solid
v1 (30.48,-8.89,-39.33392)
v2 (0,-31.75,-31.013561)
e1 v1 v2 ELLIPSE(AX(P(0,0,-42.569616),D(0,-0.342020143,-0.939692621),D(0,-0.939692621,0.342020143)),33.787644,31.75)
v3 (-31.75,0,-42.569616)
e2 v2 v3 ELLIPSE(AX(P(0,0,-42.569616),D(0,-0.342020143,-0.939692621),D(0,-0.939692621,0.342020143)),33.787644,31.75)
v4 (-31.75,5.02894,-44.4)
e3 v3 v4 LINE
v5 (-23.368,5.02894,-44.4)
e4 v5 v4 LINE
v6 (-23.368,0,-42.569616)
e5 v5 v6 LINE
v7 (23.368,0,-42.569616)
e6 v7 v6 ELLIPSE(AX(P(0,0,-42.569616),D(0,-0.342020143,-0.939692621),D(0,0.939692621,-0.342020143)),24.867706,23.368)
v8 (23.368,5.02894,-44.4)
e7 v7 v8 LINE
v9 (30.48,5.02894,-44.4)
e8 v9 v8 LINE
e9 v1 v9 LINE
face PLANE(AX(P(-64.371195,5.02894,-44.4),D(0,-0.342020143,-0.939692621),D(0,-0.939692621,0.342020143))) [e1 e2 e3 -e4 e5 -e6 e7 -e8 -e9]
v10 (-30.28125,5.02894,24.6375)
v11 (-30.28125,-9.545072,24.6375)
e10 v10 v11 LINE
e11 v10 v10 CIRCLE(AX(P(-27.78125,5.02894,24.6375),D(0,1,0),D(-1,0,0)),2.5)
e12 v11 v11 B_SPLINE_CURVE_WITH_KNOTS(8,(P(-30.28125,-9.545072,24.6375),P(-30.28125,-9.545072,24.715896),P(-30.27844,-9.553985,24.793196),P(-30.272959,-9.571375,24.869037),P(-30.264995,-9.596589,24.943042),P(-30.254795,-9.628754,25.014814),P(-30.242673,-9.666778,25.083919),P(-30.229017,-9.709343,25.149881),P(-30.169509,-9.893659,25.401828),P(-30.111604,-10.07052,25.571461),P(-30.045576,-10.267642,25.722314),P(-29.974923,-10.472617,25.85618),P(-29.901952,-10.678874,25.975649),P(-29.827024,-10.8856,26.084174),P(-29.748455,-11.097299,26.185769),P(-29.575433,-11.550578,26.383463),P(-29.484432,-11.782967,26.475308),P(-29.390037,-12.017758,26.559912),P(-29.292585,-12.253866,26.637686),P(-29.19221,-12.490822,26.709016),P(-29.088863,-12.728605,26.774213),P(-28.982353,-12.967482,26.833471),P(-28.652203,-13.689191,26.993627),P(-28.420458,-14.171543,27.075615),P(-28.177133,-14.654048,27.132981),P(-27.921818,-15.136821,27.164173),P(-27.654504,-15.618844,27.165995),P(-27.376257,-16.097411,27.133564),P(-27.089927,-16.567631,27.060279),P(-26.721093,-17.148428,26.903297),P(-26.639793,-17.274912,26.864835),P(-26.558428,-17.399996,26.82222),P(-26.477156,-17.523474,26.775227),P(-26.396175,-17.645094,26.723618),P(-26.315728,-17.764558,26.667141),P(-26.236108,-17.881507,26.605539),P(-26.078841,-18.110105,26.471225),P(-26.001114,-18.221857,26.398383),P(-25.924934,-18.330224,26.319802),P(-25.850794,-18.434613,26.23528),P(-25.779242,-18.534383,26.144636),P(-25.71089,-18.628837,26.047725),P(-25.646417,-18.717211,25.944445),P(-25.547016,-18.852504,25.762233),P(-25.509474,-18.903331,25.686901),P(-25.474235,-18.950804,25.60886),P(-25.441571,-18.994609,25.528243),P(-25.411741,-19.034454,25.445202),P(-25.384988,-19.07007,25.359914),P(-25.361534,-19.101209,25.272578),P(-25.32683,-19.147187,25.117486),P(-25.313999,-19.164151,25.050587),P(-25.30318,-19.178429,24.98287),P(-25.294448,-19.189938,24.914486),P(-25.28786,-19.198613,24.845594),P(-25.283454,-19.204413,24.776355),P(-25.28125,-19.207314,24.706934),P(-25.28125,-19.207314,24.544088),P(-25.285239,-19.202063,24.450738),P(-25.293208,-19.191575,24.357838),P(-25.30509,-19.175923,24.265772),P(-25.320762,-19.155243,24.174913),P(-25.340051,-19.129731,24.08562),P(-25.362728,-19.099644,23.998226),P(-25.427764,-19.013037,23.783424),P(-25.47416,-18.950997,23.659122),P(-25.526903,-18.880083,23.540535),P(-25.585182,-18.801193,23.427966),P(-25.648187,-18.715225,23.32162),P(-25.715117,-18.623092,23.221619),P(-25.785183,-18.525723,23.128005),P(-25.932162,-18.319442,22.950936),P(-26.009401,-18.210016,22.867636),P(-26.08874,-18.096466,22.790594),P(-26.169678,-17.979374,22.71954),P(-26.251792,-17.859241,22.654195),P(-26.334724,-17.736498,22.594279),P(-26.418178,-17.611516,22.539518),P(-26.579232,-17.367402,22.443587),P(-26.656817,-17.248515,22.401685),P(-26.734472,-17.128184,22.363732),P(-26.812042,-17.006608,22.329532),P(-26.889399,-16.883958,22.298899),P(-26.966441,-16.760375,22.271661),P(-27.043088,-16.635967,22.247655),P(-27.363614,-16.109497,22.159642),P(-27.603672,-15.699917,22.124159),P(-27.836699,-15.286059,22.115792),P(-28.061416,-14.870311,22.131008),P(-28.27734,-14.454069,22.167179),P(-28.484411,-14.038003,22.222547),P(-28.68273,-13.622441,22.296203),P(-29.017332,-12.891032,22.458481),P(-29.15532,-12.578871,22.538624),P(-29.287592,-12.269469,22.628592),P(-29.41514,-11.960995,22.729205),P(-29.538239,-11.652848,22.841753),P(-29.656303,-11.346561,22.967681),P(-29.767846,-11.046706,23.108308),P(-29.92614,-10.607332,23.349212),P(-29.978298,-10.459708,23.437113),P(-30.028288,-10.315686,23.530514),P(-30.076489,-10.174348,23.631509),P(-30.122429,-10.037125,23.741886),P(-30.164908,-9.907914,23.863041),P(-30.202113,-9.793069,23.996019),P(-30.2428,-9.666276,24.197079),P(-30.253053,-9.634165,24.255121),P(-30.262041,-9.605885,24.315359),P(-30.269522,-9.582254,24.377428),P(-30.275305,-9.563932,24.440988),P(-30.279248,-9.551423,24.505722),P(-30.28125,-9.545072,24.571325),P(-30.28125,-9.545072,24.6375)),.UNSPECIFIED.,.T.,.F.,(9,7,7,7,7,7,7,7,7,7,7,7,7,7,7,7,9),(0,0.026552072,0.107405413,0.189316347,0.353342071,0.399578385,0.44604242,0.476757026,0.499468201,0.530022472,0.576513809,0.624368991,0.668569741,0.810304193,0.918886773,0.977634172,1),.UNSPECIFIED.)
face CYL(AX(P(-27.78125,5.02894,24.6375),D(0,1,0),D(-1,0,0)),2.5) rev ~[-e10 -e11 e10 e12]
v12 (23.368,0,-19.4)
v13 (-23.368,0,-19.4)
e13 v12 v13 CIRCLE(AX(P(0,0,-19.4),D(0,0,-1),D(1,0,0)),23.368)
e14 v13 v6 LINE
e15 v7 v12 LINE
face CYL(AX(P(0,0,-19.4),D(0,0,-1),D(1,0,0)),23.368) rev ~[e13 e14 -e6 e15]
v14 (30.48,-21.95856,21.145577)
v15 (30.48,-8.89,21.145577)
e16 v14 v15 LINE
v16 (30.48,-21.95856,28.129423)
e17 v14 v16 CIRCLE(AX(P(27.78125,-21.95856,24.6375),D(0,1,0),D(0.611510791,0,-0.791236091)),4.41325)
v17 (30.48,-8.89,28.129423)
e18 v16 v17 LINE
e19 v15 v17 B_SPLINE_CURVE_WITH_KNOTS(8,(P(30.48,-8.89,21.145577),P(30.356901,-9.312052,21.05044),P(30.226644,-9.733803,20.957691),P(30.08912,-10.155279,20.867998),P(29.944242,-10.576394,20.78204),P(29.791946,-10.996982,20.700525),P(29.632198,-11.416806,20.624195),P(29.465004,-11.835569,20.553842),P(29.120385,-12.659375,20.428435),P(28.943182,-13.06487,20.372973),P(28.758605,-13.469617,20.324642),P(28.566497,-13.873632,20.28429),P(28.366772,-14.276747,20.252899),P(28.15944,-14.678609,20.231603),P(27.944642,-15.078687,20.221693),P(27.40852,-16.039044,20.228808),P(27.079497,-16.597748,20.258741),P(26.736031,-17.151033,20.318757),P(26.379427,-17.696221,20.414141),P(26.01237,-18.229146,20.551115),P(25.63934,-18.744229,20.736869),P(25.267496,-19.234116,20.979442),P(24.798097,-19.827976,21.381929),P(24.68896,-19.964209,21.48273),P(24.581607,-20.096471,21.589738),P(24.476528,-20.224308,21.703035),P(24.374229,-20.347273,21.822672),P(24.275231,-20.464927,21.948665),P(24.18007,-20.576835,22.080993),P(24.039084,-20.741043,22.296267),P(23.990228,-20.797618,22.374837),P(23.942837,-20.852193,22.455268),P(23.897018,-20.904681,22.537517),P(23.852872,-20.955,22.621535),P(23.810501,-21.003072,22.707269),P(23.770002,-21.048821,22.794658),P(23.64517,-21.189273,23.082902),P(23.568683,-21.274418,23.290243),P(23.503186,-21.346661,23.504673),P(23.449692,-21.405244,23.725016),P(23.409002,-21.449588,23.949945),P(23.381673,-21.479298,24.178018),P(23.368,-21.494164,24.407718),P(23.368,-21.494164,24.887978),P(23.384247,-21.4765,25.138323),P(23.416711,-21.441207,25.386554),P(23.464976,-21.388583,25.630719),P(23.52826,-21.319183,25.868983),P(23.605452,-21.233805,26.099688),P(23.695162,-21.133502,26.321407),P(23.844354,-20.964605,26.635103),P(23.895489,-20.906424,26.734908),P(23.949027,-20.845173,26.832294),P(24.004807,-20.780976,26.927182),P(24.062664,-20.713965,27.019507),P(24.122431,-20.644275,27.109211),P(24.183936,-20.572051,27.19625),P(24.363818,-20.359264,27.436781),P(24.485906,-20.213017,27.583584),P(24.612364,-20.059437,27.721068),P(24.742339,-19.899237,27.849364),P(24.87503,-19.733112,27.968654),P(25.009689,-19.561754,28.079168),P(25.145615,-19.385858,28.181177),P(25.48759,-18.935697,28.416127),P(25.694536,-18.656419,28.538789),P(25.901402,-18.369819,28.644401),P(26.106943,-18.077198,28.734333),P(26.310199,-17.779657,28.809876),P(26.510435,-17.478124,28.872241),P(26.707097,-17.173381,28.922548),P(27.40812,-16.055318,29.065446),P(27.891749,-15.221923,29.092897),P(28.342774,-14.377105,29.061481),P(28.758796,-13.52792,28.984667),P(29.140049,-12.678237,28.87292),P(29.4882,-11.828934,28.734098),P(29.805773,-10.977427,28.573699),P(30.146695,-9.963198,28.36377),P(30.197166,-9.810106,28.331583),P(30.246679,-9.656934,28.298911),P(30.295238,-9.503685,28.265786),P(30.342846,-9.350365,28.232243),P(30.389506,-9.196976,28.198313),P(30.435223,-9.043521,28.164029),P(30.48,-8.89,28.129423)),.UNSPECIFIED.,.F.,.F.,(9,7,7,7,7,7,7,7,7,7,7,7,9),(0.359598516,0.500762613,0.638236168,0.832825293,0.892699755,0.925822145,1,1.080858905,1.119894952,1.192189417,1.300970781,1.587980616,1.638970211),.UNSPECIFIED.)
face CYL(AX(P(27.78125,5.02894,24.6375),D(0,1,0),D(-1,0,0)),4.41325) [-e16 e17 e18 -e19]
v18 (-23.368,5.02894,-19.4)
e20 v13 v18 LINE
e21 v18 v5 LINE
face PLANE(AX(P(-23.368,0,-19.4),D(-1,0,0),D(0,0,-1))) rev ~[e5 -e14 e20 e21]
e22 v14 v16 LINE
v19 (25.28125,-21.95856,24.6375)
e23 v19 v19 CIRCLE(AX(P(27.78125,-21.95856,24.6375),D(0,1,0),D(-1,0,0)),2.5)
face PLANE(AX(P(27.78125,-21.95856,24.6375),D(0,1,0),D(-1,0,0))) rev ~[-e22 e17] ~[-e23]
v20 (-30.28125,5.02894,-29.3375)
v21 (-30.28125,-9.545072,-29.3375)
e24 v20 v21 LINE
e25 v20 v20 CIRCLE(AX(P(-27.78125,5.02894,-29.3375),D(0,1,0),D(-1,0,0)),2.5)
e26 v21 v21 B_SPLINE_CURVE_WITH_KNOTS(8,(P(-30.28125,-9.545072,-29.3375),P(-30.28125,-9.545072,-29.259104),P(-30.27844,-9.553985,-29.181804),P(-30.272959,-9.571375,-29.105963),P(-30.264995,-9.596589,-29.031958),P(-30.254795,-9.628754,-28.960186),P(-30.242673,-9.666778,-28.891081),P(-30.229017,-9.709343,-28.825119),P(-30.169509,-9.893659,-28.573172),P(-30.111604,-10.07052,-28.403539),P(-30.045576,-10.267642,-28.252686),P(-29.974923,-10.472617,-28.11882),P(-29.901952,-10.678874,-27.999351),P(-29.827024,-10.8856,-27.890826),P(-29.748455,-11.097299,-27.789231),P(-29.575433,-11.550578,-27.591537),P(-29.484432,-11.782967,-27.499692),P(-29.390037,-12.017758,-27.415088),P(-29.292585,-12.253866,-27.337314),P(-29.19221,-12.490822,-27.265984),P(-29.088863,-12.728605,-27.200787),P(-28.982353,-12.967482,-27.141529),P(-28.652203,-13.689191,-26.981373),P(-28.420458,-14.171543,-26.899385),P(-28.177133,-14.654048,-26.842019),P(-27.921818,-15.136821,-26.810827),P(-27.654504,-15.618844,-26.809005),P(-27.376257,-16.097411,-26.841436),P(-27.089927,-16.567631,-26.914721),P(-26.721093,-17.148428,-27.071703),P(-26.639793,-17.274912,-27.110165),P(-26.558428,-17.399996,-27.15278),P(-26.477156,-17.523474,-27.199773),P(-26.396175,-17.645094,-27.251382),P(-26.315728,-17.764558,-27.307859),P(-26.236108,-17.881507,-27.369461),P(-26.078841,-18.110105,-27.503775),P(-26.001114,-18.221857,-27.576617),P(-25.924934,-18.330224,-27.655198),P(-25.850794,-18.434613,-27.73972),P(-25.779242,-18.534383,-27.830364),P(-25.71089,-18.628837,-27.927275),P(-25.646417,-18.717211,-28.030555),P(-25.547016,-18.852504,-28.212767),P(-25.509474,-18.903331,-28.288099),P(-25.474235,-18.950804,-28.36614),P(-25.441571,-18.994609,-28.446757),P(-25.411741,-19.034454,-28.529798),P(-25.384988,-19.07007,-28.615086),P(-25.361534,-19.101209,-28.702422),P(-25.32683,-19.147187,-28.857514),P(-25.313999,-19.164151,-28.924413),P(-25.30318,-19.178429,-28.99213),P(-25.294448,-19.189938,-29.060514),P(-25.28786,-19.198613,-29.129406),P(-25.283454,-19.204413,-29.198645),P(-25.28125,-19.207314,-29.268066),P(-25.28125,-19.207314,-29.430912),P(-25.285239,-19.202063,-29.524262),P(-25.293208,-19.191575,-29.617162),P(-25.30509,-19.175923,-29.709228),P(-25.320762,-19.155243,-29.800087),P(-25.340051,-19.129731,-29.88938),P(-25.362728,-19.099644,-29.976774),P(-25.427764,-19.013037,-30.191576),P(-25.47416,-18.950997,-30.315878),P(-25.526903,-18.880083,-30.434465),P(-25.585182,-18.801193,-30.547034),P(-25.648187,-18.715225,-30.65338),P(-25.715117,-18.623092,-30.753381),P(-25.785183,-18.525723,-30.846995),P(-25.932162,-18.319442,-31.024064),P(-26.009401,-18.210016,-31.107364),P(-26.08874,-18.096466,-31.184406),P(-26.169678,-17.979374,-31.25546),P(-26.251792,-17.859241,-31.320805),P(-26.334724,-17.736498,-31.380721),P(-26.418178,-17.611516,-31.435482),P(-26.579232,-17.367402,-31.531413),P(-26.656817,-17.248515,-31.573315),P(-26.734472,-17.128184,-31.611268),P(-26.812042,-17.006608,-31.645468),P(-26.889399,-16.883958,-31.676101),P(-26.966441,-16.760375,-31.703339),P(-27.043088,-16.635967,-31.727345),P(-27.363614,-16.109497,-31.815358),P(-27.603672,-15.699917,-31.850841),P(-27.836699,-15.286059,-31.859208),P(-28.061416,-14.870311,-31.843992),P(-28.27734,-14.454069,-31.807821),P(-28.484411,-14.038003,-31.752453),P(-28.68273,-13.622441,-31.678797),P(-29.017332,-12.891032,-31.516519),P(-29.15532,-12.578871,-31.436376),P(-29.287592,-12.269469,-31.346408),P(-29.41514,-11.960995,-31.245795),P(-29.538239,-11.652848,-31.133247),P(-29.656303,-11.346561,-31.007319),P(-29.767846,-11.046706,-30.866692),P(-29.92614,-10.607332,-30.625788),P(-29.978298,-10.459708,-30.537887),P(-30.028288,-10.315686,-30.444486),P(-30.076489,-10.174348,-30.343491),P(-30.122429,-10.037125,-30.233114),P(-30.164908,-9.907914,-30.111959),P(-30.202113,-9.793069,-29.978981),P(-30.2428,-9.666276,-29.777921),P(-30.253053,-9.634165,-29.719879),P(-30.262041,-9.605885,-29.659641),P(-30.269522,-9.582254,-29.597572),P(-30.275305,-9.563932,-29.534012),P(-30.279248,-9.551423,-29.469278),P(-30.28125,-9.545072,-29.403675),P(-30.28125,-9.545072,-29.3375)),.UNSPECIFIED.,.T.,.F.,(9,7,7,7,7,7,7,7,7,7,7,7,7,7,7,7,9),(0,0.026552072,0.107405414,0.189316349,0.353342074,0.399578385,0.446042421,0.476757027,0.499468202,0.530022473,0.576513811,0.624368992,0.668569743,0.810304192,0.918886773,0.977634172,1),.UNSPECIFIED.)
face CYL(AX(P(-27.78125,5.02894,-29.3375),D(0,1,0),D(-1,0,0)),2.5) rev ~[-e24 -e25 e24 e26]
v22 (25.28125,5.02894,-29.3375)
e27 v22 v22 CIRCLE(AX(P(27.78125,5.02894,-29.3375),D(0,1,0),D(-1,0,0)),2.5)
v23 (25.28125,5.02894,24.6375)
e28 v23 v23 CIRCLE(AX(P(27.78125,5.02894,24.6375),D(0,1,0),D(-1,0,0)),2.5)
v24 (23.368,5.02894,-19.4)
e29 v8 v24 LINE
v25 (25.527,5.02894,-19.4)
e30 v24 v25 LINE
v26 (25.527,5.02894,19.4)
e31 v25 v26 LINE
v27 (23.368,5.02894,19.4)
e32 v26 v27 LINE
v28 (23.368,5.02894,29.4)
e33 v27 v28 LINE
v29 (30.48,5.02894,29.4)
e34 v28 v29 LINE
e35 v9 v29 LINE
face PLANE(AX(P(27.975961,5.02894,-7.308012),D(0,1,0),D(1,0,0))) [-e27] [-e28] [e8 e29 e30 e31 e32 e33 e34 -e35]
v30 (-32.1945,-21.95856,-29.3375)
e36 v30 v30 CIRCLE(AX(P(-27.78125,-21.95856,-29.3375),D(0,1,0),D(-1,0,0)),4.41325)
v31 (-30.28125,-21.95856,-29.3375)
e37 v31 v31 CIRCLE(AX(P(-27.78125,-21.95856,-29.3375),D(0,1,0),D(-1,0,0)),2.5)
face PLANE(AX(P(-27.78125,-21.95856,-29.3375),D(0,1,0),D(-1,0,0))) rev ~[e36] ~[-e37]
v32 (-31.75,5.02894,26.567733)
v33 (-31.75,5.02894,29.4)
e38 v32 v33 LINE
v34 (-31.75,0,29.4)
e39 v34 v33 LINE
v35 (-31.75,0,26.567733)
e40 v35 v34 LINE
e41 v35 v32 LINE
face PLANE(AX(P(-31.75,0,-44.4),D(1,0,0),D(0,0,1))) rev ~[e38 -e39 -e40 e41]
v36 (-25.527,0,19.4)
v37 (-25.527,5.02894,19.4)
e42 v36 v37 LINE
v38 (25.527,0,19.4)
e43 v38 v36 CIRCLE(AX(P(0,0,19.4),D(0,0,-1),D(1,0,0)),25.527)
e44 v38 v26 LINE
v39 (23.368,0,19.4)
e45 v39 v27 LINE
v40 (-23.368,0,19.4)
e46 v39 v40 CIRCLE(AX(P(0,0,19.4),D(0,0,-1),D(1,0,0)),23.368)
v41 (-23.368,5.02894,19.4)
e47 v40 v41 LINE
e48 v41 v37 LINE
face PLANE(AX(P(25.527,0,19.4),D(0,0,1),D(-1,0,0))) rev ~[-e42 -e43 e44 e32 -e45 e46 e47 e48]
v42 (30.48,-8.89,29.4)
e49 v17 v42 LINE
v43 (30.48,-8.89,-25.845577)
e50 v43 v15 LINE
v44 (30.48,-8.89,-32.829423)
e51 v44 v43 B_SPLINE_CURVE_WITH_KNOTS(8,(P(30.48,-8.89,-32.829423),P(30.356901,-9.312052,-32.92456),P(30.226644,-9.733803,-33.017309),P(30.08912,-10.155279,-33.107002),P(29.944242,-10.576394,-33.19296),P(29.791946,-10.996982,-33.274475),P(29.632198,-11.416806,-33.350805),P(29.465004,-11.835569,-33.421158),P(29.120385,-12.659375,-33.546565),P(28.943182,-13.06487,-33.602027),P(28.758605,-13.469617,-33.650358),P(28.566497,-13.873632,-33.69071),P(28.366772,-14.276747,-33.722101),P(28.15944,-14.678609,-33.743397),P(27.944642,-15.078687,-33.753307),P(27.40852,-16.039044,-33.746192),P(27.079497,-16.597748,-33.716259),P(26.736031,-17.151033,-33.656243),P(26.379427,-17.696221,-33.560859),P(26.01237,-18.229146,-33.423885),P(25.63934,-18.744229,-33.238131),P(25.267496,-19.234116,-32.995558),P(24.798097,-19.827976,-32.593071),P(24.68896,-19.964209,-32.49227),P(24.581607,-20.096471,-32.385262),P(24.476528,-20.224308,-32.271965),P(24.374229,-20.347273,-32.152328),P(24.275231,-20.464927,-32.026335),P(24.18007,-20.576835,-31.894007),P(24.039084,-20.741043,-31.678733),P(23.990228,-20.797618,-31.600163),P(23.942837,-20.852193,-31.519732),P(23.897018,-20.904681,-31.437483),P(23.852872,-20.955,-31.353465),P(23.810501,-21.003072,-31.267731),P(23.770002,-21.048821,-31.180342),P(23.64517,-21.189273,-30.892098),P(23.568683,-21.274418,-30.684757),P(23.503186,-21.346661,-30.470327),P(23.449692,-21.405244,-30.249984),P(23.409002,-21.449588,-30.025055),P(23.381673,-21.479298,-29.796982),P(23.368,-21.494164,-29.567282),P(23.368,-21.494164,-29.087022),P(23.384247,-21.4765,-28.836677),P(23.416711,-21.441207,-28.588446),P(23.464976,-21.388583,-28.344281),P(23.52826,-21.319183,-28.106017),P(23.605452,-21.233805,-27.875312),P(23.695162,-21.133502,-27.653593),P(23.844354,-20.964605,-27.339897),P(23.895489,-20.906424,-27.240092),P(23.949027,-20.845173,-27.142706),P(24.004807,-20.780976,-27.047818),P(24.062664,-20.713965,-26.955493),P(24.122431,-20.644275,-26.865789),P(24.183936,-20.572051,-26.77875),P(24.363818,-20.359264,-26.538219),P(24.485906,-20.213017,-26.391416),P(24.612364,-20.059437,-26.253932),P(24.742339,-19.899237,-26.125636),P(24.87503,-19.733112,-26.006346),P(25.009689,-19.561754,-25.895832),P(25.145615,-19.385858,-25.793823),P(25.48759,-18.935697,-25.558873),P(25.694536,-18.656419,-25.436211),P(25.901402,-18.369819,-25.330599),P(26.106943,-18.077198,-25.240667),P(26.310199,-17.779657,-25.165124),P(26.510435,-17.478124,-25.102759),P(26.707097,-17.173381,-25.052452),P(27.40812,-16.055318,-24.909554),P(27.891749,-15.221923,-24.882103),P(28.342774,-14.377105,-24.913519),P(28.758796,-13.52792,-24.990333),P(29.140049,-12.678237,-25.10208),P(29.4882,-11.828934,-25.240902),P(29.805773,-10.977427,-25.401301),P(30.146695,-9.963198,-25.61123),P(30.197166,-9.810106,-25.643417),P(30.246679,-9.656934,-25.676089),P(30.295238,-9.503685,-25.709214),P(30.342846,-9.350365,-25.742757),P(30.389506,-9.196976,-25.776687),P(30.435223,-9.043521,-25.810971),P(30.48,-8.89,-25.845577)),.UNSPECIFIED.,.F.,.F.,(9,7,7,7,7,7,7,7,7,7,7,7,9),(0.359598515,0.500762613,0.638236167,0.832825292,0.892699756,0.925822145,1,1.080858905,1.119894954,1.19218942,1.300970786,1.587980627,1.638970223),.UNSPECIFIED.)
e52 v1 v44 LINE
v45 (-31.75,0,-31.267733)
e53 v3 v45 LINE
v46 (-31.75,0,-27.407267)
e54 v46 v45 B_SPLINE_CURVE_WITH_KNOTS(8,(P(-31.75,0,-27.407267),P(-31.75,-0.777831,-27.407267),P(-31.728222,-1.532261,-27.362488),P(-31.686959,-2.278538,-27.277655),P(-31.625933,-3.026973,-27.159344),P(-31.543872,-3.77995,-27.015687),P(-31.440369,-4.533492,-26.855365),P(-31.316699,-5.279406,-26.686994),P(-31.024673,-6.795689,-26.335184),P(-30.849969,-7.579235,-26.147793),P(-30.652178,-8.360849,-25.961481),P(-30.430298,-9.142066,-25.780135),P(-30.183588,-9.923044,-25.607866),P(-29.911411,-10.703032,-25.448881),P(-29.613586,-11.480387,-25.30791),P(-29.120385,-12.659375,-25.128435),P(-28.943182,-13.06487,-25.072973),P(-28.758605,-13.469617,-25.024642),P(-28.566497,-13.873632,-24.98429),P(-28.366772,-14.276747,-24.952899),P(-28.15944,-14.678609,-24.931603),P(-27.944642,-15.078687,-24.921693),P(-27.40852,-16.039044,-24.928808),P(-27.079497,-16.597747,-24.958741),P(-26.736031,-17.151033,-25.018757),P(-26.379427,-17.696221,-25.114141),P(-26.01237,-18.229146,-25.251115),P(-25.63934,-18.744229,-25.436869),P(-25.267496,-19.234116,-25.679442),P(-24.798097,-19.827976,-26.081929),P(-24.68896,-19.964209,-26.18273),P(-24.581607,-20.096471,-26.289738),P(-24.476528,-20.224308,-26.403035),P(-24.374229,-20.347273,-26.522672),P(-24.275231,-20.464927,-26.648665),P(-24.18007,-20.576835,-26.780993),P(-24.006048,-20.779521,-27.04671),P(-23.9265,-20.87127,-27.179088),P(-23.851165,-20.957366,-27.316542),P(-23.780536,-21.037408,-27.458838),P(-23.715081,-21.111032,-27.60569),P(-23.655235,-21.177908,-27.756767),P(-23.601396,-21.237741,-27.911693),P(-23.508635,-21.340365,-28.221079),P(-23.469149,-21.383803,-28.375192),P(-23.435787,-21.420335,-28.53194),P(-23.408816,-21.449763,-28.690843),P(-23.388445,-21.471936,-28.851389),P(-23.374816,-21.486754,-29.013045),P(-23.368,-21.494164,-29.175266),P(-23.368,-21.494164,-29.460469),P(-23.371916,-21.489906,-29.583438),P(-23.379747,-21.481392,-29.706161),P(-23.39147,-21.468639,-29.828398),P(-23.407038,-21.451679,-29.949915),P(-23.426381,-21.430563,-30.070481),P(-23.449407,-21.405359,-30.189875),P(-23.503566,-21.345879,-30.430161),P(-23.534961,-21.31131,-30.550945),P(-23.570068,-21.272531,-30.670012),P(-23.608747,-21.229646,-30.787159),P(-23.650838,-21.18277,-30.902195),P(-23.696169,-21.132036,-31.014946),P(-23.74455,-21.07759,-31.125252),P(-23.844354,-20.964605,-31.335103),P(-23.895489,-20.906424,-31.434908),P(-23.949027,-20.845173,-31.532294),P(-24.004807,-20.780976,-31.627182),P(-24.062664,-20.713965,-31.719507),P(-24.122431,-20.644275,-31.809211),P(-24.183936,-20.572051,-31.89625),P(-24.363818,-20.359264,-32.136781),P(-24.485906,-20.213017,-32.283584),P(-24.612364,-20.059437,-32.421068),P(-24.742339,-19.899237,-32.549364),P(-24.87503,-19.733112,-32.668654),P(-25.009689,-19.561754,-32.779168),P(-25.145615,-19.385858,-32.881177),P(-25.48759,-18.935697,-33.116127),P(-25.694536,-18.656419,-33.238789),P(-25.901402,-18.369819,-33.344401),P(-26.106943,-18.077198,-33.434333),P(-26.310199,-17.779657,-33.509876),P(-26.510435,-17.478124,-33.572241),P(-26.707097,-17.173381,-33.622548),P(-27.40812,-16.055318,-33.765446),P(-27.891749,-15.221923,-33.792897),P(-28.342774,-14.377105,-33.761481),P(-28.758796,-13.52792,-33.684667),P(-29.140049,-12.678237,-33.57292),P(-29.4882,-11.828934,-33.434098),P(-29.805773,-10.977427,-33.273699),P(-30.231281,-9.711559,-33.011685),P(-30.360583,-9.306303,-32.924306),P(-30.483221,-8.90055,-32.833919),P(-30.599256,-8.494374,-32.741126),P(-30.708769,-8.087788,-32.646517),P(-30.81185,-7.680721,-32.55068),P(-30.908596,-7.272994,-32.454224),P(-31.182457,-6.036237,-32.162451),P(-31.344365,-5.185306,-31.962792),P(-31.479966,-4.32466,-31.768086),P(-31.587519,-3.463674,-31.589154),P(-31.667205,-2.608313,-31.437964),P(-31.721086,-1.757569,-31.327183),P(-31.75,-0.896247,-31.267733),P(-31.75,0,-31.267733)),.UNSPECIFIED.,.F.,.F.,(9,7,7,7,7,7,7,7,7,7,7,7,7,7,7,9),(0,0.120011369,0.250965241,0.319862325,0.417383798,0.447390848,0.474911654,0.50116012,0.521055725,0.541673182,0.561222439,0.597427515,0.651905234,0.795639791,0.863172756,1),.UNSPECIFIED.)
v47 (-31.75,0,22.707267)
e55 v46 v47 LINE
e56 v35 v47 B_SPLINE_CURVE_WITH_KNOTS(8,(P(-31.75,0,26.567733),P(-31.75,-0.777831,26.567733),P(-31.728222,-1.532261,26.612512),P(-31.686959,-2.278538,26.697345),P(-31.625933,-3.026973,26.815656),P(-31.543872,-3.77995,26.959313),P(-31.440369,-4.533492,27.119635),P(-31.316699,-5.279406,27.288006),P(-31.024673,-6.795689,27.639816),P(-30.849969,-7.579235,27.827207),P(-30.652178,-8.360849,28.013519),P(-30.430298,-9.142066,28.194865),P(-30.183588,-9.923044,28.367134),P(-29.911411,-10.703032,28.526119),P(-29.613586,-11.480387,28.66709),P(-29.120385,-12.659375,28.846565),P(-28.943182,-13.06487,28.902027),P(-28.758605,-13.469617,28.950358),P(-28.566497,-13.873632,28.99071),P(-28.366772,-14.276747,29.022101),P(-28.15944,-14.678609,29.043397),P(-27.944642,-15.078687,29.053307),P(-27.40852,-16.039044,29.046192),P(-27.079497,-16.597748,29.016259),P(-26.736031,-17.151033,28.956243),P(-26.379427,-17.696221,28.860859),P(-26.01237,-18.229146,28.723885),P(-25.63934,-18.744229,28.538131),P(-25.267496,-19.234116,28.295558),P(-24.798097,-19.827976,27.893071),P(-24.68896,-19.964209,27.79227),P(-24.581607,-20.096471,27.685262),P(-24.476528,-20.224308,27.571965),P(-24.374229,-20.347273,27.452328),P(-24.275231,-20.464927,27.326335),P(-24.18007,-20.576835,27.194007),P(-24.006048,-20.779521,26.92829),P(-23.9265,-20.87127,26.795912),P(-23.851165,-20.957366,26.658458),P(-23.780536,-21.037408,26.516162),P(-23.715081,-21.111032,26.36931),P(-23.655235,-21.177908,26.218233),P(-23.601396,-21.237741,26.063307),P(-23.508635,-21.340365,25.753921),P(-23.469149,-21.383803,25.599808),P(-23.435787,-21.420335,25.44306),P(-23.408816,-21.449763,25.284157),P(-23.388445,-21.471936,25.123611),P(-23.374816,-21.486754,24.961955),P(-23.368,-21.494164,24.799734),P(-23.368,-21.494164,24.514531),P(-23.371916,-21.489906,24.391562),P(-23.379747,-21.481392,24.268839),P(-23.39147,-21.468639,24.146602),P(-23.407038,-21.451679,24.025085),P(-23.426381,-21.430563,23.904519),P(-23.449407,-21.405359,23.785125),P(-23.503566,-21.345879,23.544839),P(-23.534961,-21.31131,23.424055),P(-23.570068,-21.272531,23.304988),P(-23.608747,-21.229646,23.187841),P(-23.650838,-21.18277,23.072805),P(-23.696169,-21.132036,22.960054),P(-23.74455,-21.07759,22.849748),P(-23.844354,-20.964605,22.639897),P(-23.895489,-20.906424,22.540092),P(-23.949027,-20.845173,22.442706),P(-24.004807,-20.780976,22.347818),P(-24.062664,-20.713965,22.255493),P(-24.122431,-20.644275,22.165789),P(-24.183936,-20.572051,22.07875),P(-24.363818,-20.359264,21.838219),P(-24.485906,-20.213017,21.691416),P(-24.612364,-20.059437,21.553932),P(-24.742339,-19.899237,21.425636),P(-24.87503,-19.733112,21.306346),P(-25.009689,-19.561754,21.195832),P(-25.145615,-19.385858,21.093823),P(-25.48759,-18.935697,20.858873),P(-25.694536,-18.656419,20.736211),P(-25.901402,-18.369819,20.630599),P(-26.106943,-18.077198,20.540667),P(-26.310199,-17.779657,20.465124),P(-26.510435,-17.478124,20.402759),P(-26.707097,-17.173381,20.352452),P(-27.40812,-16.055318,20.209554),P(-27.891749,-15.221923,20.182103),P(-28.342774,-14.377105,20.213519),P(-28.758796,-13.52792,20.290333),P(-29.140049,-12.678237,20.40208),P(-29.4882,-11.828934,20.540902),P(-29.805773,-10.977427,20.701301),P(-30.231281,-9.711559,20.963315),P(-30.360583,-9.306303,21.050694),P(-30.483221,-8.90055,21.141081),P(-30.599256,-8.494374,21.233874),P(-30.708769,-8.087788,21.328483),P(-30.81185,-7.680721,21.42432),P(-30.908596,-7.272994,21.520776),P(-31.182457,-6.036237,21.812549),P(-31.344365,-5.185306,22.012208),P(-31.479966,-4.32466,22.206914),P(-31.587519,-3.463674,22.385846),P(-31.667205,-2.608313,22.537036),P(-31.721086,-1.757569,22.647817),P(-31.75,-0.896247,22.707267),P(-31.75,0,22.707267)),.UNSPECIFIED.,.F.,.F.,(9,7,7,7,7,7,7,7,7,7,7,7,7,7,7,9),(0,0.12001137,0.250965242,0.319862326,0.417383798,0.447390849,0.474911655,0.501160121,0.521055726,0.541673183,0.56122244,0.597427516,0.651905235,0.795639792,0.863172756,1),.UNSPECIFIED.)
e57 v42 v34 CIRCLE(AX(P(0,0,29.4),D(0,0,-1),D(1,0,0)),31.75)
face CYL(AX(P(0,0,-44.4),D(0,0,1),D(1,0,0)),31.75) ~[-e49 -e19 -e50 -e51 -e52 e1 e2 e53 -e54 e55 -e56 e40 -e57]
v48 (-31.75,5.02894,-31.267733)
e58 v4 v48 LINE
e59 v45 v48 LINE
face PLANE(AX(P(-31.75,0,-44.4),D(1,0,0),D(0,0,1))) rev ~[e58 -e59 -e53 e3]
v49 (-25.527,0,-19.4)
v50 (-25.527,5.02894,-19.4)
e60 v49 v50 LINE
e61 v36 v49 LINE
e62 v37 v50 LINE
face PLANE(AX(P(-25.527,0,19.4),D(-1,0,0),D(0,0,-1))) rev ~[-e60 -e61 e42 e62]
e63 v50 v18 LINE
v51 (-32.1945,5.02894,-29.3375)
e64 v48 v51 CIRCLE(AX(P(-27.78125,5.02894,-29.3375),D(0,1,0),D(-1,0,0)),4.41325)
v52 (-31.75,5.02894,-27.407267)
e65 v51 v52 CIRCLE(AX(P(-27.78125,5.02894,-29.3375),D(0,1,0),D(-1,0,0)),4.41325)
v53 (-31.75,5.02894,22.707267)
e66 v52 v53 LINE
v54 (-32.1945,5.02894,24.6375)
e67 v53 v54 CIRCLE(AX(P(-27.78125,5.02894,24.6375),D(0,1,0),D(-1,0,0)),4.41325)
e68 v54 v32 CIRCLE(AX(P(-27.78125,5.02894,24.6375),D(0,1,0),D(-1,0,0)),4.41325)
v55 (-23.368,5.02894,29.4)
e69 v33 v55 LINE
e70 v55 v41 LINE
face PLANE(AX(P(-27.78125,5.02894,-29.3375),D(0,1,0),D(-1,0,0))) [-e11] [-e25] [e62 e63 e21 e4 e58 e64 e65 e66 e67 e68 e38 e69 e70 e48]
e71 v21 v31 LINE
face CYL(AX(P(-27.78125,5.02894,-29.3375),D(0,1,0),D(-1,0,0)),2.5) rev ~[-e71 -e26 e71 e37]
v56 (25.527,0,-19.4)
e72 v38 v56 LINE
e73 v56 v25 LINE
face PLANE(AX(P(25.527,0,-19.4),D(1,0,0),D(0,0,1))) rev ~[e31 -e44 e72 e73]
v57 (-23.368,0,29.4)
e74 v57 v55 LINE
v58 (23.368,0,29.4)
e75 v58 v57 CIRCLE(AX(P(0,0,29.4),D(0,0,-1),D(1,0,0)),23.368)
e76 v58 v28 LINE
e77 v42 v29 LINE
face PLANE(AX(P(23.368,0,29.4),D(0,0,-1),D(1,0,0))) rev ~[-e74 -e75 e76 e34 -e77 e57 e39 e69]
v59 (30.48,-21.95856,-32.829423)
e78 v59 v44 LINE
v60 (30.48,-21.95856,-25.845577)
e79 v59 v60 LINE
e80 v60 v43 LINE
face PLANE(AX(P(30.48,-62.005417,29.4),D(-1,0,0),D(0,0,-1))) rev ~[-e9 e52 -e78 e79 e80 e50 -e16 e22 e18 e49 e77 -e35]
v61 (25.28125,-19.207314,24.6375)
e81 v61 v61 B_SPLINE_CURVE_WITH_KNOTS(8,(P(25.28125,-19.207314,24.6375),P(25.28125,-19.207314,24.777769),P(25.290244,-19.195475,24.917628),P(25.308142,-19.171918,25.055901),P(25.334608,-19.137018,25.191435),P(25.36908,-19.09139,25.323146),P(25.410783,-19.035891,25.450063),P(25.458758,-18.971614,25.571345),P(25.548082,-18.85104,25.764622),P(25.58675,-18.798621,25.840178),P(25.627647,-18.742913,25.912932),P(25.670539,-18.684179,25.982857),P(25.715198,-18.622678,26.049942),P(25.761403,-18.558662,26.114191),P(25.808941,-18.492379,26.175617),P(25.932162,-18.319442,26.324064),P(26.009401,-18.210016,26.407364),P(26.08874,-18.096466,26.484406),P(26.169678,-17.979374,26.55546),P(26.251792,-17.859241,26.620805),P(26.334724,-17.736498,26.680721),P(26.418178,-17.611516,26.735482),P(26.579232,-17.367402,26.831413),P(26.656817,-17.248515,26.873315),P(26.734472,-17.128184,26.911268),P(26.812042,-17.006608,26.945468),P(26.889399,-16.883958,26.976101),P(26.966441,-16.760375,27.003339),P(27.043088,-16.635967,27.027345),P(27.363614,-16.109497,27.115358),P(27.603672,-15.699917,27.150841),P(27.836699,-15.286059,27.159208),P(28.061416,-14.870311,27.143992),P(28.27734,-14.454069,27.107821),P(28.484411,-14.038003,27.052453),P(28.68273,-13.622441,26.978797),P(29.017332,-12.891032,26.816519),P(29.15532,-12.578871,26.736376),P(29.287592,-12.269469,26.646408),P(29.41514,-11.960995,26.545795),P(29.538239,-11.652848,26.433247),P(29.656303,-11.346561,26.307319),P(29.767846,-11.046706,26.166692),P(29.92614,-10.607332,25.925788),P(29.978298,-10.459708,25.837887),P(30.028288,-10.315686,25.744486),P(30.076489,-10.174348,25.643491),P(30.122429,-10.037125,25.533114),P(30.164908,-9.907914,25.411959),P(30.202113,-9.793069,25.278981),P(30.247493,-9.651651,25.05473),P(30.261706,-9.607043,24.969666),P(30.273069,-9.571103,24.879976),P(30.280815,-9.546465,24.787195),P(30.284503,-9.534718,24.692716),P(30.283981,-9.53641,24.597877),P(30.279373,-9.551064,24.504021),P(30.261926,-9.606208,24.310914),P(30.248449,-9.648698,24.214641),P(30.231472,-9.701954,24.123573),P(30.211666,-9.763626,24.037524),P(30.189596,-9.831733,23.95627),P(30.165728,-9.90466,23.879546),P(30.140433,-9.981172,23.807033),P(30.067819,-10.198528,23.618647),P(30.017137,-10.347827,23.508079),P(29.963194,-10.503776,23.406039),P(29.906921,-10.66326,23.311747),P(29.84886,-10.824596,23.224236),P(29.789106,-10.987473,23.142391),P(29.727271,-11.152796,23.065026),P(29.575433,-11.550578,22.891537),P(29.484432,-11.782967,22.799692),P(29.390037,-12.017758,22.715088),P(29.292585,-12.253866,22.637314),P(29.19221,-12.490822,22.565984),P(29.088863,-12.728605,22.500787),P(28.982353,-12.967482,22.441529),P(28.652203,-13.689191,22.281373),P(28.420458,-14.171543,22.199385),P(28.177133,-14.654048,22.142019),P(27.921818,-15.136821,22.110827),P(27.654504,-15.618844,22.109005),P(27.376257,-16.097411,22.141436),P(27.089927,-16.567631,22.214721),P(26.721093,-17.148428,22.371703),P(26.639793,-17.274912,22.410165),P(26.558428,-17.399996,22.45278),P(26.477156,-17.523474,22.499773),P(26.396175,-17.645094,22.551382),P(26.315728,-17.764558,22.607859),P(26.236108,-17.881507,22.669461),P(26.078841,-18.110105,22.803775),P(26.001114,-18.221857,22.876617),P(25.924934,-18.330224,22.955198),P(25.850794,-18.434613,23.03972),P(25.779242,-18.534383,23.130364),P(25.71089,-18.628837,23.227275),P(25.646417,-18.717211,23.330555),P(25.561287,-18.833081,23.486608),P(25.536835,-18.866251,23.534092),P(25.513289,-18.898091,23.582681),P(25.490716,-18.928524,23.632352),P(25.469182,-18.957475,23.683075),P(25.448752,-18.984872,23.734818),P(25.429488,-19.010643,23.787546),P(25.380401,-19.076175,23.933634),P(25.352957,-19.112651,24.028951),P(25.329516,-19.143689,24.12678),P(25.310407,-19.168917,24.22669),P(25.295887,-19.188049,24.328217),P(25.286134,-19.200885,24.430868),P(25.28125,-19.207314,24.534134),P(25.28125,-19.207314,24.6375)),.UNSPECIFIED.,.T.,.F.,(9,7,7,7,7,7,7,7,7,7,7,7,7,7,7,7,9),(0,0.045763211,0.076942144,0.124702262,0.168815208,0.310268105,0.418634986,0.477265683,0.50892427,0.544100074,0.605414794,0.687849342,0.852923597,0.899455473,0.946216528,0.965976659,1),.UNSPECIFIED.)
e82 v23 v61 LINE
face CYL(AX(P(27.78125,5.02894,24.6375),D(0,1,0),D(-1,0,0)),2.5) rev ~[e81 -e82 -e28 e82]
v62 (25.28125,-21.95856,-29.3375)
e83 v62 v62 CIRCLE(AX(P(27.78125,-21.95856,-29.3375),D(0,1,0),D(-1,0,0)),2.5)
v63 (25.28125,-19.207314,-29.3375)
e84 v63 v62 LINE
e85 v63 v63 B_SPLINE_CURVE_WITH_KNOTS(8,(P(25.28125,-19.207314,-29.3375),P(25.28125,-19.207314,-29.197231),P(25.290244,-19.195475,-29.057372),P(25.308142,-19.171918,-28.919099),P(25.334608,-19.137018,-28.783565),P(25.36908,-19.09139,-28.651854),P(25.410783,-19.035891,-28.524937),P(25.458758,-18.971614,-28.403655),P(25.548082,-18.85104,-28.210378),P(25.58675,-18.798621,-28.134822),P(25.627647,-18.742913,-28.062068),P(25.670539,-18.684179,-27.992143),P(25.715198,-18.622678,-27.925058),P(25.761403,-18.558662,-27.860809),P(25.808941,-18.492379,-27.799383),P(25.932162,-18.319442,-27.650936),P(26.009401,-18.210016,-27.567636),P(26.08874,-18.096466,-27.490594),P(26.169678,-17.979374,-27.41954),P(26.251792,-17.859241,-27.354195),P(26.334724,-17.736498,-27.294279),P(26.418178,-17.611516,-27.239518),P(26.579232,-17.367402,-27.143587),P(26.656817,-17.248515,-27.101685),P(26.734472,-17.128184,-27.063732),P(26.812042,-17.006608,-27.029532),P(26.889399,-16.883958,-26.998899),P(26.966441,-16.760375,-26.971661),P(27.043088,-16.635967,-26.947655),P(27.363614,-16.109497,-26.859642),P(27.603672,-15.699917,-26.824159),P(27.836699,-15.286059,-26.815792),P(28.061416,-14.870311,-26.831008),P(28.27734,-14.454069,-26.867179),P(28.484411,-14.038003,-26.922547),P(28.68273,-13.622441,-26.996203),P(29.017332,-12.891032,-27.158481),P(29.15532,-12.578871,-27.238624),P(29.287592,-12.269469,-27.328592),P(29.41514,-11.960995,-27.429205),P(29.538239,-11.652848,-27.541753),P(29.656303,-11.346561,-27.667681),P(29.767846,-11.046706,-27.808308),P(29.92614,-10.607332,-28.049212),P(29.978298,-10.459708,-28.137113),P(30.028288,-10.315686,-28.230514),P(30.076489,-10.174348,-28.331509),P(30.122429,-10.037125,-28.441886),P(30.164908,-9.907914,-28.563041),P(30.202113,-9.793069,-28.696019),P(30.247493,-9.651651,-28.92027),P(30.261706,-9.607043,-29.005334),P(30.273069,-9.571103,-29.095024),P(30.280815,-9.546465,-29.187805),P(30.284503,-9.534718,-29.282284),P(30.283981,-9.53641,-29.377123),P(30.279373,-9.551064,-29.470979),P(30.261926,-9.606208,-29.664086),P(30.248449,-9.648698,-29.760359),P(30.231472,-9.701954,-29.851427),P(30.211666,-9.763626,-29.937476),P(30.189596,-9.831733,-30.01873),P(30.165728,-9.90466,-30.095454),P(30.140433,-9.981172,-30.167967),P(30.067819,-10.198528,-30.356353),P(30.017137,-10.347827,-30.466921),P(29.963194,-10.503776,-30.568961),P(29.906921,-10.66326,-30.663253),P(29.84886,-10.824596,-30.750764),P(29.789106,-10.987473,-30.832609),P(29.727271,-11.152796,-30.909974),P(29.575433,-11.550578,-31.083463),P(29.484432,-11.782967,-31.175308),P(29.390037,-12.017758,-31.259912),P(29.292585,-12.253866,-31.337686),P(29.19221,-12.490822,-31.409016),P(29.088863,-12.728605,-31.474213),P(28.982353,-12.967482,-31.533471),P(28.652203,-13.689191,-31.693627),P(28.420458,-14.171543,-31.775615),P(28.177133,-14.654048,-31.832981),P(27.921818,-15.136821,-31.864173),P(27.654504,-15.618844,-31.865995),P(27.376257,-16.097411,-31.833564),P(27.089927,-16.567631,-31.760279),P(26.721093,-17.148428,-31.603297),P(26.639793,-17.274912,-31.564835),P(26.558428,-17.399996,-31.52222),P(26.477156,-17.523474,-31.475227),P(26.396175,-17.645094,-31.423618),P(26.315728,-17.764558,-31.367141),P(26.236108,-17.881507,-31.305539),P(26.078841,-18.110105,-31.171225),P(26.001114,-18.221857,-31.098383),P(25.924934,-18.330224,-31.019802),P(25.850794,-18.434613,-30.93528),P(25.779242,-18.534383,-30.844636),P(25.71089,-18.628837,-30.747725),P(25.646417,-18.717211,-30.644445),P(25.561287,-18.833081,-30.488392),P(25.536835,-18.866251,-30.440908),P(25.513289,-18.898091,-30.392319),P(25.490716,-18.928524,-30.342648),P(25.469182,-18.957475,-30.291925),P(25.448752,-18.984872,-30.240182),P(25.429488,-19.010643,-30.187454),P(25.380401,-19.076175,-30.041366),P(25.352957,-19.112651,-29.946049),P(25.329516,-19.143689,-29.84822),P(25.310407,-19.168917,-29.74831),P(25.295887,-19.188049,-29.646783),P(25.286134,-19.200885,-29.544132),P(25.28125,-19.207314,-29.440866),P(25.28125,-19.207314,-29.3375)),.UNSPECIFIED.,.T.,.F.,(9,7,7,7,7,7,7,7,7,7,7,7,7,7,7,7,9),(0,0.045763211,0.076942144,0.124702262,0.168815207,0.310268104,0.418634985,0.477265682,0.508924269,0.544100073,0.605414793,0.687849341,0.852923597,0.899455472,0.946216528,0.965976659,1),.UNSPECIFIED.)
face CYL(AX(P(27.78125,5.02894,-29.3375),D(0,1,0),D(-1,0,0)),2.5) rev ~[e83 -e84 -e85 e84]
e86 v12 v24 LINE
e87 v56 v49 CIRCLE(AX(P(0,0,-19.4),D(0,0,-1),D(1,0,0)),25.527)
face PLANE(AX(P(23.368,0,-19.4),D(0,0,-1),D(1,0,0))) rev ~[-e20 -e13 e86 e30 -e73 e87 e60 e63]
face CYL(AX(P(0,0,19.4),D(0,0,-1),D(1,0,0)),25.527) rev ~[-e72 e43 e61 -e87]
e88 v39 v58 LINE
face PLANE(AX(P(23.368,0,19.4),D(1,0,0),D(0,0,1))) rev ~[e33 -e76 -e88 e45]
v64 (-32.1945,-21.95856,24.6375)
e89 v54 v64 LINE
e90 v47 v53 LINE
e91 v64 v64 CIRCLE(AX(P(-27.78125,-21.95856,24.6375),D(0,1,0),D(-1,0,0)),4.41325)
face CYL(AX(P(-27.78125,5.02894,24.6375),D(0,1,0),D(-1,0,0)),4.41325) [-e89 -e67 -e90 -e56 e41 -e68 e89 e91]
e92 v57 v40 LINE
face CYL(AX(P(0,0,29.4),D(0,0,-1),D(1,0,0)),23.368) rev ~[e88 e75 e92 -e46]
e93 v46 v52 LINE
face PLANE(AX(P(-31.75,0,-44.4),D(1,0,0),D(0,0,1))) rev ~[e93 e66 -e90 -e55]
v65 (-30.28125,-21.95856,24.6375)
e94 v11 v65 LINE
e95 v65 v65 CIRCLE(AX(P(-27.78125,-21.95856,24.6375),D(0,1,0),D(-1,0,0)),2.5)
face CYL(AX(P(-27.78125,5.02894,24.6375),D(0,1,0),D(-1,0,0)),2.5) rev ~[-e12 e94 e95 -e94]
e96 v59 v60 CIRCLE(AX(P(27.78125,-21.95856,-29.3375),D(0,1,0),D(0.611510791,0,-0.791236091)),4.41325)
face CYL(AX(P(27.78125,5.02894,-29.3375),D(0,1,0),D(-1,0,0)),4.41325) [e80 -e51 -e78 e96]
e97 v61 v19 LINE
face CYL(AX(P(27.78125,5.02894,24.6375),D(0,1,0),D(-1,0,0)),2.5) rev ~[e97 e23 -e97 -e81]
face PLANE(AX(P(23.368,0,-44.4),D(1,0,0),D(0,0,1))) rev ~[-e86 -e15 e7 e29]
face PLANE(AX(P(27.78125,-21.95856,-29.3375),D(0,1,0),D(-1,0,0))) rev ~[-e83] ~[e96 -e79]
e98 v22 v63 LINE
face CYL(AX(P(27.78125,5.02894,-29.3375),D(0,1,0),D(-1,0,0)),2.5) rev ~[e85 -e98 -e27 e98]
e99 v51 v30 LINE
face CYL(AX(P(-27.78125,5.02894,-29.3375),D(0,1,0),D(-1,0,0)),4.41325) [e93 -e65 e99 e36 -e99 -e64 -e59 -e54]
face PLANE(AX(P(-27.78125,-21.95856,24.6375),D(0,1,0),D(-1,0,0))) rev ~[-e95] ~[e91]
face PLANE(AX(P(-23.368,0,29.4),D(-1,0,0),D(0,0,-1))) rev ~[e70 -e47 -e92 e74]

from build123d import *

# Parameters (mm, degrees)
REVOLVE1_ANGLE          = 180
BOSS_EXTRUDE1_DEPTH     = 5.02894
SKETCH4_R               = 2.5
CUT_EXTRUDE1_DEPTH      = 66.81878856
SKETCH5_R               = 4.41325
SKETCH5_R_2             = 2.5
BOSS_EXTRUDE2_DEPTH     = 26.9875
CUT_EXTRUDE2_DEPTH      = 64.37119497
CUT_EXTRUDE2_DEPTH_BACK = 64.37119497
CUT_EXTRUDE7_DEPTH      = 67.034356751
CUT_EXTRUDE7_DEPTH_BACK = 67.034356751
SKETCH8_W               = 7.909159593
SKETCH8_H               = 73.8


with BuildPart() as part:
    # Sketch1 → Revolve1 (revolve)
    with BuildSketch(Plane(origin=(0, 0, 0), x_dir=(1, 0, 0), z_dir=(0, 1, 0))):
        Polygon((23.368, 44.4), (31.75, 44.4), (31.75, -29.4), (23.368, -29.4), (23.368, -19.4), (25.527, -19.4), (25.527, 19.4), (23.368, 19.4), align=None)
    revolve(axis=Axis((0, 0, 55), (0, 0, -1)), revolution_arc=REVOLVE1_ANGLE)

    # Sketch3 → Boss-Extrude1 (add)
    with BuildSketch(Plane(origin=(0, 0, 0), x_dir=(1, 0, 0), z_dir=(0, 1, 0))):
        Polygon((23.368, 44.4), (23.368, 19.4), (25.527, 19.4), (25.527, -19.4), (23.368, -19.4), (23.368, -29.4), (31.75, -29.4), (31.75, 44.4), align=None)
        Polygon((-23.368, 19.4), (-23.368, 44.4), (-31.75, 44.4), (-31.75, -29.4), (-23.368, -29.4), (-23.368, -19.4), (-25.527, -19.4), (-25.527, 19.4), align=None)
    extrude(amount=BOSS_EXTRUDE1_DEPTH)

    # Sketch4 → Cut-Extrude1 (cut, through all)
    with BuildSketch(Plane(origin=(0, 5.02894, 0), x_dir=(1, 0, 0), z_dir=(0, 1, 0))):
        with Locations(Location((-27.78125, 29.3375, 0), (0, 0, 180))):
            Circle(SKETCH4_R)
        with Locations(Location((27.78125, 29.3375, 0), (0, 0, 180))):
            Circle(SKETCH4_R)
        with Locations(Location((27.78125, -24.6375, 0), (0, 0, 180))):
            Circle(SKETCH4_R)
        with Locations(Location((-27.78125, -24.6375, 0), (0, 0, 180))):
            Circle(SKETCH4_R)
    extrude(amount=-CUT_EXTRUDE1_DEPTH, mode=Mode.SUBTRACT)

    # Sketch5 → Boss-Extrude2 (add)
    # profile 1 of 4: a face of its own
    with BuildSketch(Plane(origin=(0, 5.02894, 0), x_dir=(1, 0, 0), z_dir=(0, 1, 0))):
        with Locations(Location((-27.78125, 29.3375, 0), (0, 0, 180))):
            Circle(SKETCH5_R)
        with Locations(Location((-27.78125, 29.3375, 0), (0, 0, 180))):
            Circle(SKETCH5_R_2, mode=Mode.SUBTRACT)
    # profile 2 of 4: a face of its own
    with BuildSketch(Plane(origin=(0, 5.02894, 0), x_dir=(1, 0, 0), z_dir=(0, 1, 0))):
        with Locations(Location((-27.78125, -24.6375, 0), (0, 0, 180))):
            Circle(SKETCH5_R)
        with Locations(Location((-27.78125, -24.6375, 0), (0, 0, 180))):
            Circle(SKETCH5_R_2, mode=Mode.SUBTRACT)
    # profile 3 of 4: a face of its own
    with BuildSketch(Plane(origin=(0, 5.02894, 0), x_dir=(1, 0, 0), z_dir=(0, 1, 0))):
        with Locations(Location((27.78125, -24.6375, 0), (0, 0, 180))):
            Circle(SKETCH5_R)
        with Locations(Location((27.78125, -24.6375, 0), (0, 0, 180))):
            Circle(SKETCH5_R_2, mode=Mode.SUBTRACT)
    # profile 4 of 4: a face of its own
    with BuildSketch(Plane(origin=(0, 5.02894, 0), x_dir=(1, 0, 0), z_dir=(0, 1, 0))):
        with Locations(Location((27.78125, 29.3375, 0), (0, 0, 180))):
            Circle(SKETCH5_R)
        with Locations(Location((27.78125, 29.3375, 0), (0, 0, 180))):
            Circle(SKETCH5_R_2, mode=Mode.SUBTRACT)
    extrude(amount=-BOSS_EXTRUDE2_DEPTH)

    # Sketch6 → Cut-Extrude2 (cut, two sides: drawn at the far end of the back side and taken through both)
    with BuildSketch(Plane(origin=(0, 0, 0), x_dir=(0, 0, -1), z_dir=(1, 0, 0)).offset(-CUT_EXTRUDE2_DEPTH_BACK)):
        Polygon((44.4, 5.02894), (31.013560592, -31.75), (44.4, -31.75), align=None)
    extrude(amount=CUT_EXTRUDE2_DEPTH + CUT_EXTRUDE2_DEPTH_BACK, mode=Mode.SUBTRACT)

    # Sketch8 → Cut-Extrude7 (cut, two sides: drawn at the far end of the back side and taken through both)
    with BuildSketch(Plane(origin=(0, 5.02894, 0), x_dir=(1, 0, 0), z_dir=(0, 1, 0)).offset(-CUT_EXTRUDE7_DEPTH_BACK)):
        with Locations((34.434579797, 7.5)):
            Rectangle(SKETCH8_W, SKETCH8_H)
    extrude(amount=CUT_EXTRUDE7_DEPTH + CUT_EXTRUDE7_DEPTH_BACK, mode=Mode.SUBTRACT)


solid = part.part
